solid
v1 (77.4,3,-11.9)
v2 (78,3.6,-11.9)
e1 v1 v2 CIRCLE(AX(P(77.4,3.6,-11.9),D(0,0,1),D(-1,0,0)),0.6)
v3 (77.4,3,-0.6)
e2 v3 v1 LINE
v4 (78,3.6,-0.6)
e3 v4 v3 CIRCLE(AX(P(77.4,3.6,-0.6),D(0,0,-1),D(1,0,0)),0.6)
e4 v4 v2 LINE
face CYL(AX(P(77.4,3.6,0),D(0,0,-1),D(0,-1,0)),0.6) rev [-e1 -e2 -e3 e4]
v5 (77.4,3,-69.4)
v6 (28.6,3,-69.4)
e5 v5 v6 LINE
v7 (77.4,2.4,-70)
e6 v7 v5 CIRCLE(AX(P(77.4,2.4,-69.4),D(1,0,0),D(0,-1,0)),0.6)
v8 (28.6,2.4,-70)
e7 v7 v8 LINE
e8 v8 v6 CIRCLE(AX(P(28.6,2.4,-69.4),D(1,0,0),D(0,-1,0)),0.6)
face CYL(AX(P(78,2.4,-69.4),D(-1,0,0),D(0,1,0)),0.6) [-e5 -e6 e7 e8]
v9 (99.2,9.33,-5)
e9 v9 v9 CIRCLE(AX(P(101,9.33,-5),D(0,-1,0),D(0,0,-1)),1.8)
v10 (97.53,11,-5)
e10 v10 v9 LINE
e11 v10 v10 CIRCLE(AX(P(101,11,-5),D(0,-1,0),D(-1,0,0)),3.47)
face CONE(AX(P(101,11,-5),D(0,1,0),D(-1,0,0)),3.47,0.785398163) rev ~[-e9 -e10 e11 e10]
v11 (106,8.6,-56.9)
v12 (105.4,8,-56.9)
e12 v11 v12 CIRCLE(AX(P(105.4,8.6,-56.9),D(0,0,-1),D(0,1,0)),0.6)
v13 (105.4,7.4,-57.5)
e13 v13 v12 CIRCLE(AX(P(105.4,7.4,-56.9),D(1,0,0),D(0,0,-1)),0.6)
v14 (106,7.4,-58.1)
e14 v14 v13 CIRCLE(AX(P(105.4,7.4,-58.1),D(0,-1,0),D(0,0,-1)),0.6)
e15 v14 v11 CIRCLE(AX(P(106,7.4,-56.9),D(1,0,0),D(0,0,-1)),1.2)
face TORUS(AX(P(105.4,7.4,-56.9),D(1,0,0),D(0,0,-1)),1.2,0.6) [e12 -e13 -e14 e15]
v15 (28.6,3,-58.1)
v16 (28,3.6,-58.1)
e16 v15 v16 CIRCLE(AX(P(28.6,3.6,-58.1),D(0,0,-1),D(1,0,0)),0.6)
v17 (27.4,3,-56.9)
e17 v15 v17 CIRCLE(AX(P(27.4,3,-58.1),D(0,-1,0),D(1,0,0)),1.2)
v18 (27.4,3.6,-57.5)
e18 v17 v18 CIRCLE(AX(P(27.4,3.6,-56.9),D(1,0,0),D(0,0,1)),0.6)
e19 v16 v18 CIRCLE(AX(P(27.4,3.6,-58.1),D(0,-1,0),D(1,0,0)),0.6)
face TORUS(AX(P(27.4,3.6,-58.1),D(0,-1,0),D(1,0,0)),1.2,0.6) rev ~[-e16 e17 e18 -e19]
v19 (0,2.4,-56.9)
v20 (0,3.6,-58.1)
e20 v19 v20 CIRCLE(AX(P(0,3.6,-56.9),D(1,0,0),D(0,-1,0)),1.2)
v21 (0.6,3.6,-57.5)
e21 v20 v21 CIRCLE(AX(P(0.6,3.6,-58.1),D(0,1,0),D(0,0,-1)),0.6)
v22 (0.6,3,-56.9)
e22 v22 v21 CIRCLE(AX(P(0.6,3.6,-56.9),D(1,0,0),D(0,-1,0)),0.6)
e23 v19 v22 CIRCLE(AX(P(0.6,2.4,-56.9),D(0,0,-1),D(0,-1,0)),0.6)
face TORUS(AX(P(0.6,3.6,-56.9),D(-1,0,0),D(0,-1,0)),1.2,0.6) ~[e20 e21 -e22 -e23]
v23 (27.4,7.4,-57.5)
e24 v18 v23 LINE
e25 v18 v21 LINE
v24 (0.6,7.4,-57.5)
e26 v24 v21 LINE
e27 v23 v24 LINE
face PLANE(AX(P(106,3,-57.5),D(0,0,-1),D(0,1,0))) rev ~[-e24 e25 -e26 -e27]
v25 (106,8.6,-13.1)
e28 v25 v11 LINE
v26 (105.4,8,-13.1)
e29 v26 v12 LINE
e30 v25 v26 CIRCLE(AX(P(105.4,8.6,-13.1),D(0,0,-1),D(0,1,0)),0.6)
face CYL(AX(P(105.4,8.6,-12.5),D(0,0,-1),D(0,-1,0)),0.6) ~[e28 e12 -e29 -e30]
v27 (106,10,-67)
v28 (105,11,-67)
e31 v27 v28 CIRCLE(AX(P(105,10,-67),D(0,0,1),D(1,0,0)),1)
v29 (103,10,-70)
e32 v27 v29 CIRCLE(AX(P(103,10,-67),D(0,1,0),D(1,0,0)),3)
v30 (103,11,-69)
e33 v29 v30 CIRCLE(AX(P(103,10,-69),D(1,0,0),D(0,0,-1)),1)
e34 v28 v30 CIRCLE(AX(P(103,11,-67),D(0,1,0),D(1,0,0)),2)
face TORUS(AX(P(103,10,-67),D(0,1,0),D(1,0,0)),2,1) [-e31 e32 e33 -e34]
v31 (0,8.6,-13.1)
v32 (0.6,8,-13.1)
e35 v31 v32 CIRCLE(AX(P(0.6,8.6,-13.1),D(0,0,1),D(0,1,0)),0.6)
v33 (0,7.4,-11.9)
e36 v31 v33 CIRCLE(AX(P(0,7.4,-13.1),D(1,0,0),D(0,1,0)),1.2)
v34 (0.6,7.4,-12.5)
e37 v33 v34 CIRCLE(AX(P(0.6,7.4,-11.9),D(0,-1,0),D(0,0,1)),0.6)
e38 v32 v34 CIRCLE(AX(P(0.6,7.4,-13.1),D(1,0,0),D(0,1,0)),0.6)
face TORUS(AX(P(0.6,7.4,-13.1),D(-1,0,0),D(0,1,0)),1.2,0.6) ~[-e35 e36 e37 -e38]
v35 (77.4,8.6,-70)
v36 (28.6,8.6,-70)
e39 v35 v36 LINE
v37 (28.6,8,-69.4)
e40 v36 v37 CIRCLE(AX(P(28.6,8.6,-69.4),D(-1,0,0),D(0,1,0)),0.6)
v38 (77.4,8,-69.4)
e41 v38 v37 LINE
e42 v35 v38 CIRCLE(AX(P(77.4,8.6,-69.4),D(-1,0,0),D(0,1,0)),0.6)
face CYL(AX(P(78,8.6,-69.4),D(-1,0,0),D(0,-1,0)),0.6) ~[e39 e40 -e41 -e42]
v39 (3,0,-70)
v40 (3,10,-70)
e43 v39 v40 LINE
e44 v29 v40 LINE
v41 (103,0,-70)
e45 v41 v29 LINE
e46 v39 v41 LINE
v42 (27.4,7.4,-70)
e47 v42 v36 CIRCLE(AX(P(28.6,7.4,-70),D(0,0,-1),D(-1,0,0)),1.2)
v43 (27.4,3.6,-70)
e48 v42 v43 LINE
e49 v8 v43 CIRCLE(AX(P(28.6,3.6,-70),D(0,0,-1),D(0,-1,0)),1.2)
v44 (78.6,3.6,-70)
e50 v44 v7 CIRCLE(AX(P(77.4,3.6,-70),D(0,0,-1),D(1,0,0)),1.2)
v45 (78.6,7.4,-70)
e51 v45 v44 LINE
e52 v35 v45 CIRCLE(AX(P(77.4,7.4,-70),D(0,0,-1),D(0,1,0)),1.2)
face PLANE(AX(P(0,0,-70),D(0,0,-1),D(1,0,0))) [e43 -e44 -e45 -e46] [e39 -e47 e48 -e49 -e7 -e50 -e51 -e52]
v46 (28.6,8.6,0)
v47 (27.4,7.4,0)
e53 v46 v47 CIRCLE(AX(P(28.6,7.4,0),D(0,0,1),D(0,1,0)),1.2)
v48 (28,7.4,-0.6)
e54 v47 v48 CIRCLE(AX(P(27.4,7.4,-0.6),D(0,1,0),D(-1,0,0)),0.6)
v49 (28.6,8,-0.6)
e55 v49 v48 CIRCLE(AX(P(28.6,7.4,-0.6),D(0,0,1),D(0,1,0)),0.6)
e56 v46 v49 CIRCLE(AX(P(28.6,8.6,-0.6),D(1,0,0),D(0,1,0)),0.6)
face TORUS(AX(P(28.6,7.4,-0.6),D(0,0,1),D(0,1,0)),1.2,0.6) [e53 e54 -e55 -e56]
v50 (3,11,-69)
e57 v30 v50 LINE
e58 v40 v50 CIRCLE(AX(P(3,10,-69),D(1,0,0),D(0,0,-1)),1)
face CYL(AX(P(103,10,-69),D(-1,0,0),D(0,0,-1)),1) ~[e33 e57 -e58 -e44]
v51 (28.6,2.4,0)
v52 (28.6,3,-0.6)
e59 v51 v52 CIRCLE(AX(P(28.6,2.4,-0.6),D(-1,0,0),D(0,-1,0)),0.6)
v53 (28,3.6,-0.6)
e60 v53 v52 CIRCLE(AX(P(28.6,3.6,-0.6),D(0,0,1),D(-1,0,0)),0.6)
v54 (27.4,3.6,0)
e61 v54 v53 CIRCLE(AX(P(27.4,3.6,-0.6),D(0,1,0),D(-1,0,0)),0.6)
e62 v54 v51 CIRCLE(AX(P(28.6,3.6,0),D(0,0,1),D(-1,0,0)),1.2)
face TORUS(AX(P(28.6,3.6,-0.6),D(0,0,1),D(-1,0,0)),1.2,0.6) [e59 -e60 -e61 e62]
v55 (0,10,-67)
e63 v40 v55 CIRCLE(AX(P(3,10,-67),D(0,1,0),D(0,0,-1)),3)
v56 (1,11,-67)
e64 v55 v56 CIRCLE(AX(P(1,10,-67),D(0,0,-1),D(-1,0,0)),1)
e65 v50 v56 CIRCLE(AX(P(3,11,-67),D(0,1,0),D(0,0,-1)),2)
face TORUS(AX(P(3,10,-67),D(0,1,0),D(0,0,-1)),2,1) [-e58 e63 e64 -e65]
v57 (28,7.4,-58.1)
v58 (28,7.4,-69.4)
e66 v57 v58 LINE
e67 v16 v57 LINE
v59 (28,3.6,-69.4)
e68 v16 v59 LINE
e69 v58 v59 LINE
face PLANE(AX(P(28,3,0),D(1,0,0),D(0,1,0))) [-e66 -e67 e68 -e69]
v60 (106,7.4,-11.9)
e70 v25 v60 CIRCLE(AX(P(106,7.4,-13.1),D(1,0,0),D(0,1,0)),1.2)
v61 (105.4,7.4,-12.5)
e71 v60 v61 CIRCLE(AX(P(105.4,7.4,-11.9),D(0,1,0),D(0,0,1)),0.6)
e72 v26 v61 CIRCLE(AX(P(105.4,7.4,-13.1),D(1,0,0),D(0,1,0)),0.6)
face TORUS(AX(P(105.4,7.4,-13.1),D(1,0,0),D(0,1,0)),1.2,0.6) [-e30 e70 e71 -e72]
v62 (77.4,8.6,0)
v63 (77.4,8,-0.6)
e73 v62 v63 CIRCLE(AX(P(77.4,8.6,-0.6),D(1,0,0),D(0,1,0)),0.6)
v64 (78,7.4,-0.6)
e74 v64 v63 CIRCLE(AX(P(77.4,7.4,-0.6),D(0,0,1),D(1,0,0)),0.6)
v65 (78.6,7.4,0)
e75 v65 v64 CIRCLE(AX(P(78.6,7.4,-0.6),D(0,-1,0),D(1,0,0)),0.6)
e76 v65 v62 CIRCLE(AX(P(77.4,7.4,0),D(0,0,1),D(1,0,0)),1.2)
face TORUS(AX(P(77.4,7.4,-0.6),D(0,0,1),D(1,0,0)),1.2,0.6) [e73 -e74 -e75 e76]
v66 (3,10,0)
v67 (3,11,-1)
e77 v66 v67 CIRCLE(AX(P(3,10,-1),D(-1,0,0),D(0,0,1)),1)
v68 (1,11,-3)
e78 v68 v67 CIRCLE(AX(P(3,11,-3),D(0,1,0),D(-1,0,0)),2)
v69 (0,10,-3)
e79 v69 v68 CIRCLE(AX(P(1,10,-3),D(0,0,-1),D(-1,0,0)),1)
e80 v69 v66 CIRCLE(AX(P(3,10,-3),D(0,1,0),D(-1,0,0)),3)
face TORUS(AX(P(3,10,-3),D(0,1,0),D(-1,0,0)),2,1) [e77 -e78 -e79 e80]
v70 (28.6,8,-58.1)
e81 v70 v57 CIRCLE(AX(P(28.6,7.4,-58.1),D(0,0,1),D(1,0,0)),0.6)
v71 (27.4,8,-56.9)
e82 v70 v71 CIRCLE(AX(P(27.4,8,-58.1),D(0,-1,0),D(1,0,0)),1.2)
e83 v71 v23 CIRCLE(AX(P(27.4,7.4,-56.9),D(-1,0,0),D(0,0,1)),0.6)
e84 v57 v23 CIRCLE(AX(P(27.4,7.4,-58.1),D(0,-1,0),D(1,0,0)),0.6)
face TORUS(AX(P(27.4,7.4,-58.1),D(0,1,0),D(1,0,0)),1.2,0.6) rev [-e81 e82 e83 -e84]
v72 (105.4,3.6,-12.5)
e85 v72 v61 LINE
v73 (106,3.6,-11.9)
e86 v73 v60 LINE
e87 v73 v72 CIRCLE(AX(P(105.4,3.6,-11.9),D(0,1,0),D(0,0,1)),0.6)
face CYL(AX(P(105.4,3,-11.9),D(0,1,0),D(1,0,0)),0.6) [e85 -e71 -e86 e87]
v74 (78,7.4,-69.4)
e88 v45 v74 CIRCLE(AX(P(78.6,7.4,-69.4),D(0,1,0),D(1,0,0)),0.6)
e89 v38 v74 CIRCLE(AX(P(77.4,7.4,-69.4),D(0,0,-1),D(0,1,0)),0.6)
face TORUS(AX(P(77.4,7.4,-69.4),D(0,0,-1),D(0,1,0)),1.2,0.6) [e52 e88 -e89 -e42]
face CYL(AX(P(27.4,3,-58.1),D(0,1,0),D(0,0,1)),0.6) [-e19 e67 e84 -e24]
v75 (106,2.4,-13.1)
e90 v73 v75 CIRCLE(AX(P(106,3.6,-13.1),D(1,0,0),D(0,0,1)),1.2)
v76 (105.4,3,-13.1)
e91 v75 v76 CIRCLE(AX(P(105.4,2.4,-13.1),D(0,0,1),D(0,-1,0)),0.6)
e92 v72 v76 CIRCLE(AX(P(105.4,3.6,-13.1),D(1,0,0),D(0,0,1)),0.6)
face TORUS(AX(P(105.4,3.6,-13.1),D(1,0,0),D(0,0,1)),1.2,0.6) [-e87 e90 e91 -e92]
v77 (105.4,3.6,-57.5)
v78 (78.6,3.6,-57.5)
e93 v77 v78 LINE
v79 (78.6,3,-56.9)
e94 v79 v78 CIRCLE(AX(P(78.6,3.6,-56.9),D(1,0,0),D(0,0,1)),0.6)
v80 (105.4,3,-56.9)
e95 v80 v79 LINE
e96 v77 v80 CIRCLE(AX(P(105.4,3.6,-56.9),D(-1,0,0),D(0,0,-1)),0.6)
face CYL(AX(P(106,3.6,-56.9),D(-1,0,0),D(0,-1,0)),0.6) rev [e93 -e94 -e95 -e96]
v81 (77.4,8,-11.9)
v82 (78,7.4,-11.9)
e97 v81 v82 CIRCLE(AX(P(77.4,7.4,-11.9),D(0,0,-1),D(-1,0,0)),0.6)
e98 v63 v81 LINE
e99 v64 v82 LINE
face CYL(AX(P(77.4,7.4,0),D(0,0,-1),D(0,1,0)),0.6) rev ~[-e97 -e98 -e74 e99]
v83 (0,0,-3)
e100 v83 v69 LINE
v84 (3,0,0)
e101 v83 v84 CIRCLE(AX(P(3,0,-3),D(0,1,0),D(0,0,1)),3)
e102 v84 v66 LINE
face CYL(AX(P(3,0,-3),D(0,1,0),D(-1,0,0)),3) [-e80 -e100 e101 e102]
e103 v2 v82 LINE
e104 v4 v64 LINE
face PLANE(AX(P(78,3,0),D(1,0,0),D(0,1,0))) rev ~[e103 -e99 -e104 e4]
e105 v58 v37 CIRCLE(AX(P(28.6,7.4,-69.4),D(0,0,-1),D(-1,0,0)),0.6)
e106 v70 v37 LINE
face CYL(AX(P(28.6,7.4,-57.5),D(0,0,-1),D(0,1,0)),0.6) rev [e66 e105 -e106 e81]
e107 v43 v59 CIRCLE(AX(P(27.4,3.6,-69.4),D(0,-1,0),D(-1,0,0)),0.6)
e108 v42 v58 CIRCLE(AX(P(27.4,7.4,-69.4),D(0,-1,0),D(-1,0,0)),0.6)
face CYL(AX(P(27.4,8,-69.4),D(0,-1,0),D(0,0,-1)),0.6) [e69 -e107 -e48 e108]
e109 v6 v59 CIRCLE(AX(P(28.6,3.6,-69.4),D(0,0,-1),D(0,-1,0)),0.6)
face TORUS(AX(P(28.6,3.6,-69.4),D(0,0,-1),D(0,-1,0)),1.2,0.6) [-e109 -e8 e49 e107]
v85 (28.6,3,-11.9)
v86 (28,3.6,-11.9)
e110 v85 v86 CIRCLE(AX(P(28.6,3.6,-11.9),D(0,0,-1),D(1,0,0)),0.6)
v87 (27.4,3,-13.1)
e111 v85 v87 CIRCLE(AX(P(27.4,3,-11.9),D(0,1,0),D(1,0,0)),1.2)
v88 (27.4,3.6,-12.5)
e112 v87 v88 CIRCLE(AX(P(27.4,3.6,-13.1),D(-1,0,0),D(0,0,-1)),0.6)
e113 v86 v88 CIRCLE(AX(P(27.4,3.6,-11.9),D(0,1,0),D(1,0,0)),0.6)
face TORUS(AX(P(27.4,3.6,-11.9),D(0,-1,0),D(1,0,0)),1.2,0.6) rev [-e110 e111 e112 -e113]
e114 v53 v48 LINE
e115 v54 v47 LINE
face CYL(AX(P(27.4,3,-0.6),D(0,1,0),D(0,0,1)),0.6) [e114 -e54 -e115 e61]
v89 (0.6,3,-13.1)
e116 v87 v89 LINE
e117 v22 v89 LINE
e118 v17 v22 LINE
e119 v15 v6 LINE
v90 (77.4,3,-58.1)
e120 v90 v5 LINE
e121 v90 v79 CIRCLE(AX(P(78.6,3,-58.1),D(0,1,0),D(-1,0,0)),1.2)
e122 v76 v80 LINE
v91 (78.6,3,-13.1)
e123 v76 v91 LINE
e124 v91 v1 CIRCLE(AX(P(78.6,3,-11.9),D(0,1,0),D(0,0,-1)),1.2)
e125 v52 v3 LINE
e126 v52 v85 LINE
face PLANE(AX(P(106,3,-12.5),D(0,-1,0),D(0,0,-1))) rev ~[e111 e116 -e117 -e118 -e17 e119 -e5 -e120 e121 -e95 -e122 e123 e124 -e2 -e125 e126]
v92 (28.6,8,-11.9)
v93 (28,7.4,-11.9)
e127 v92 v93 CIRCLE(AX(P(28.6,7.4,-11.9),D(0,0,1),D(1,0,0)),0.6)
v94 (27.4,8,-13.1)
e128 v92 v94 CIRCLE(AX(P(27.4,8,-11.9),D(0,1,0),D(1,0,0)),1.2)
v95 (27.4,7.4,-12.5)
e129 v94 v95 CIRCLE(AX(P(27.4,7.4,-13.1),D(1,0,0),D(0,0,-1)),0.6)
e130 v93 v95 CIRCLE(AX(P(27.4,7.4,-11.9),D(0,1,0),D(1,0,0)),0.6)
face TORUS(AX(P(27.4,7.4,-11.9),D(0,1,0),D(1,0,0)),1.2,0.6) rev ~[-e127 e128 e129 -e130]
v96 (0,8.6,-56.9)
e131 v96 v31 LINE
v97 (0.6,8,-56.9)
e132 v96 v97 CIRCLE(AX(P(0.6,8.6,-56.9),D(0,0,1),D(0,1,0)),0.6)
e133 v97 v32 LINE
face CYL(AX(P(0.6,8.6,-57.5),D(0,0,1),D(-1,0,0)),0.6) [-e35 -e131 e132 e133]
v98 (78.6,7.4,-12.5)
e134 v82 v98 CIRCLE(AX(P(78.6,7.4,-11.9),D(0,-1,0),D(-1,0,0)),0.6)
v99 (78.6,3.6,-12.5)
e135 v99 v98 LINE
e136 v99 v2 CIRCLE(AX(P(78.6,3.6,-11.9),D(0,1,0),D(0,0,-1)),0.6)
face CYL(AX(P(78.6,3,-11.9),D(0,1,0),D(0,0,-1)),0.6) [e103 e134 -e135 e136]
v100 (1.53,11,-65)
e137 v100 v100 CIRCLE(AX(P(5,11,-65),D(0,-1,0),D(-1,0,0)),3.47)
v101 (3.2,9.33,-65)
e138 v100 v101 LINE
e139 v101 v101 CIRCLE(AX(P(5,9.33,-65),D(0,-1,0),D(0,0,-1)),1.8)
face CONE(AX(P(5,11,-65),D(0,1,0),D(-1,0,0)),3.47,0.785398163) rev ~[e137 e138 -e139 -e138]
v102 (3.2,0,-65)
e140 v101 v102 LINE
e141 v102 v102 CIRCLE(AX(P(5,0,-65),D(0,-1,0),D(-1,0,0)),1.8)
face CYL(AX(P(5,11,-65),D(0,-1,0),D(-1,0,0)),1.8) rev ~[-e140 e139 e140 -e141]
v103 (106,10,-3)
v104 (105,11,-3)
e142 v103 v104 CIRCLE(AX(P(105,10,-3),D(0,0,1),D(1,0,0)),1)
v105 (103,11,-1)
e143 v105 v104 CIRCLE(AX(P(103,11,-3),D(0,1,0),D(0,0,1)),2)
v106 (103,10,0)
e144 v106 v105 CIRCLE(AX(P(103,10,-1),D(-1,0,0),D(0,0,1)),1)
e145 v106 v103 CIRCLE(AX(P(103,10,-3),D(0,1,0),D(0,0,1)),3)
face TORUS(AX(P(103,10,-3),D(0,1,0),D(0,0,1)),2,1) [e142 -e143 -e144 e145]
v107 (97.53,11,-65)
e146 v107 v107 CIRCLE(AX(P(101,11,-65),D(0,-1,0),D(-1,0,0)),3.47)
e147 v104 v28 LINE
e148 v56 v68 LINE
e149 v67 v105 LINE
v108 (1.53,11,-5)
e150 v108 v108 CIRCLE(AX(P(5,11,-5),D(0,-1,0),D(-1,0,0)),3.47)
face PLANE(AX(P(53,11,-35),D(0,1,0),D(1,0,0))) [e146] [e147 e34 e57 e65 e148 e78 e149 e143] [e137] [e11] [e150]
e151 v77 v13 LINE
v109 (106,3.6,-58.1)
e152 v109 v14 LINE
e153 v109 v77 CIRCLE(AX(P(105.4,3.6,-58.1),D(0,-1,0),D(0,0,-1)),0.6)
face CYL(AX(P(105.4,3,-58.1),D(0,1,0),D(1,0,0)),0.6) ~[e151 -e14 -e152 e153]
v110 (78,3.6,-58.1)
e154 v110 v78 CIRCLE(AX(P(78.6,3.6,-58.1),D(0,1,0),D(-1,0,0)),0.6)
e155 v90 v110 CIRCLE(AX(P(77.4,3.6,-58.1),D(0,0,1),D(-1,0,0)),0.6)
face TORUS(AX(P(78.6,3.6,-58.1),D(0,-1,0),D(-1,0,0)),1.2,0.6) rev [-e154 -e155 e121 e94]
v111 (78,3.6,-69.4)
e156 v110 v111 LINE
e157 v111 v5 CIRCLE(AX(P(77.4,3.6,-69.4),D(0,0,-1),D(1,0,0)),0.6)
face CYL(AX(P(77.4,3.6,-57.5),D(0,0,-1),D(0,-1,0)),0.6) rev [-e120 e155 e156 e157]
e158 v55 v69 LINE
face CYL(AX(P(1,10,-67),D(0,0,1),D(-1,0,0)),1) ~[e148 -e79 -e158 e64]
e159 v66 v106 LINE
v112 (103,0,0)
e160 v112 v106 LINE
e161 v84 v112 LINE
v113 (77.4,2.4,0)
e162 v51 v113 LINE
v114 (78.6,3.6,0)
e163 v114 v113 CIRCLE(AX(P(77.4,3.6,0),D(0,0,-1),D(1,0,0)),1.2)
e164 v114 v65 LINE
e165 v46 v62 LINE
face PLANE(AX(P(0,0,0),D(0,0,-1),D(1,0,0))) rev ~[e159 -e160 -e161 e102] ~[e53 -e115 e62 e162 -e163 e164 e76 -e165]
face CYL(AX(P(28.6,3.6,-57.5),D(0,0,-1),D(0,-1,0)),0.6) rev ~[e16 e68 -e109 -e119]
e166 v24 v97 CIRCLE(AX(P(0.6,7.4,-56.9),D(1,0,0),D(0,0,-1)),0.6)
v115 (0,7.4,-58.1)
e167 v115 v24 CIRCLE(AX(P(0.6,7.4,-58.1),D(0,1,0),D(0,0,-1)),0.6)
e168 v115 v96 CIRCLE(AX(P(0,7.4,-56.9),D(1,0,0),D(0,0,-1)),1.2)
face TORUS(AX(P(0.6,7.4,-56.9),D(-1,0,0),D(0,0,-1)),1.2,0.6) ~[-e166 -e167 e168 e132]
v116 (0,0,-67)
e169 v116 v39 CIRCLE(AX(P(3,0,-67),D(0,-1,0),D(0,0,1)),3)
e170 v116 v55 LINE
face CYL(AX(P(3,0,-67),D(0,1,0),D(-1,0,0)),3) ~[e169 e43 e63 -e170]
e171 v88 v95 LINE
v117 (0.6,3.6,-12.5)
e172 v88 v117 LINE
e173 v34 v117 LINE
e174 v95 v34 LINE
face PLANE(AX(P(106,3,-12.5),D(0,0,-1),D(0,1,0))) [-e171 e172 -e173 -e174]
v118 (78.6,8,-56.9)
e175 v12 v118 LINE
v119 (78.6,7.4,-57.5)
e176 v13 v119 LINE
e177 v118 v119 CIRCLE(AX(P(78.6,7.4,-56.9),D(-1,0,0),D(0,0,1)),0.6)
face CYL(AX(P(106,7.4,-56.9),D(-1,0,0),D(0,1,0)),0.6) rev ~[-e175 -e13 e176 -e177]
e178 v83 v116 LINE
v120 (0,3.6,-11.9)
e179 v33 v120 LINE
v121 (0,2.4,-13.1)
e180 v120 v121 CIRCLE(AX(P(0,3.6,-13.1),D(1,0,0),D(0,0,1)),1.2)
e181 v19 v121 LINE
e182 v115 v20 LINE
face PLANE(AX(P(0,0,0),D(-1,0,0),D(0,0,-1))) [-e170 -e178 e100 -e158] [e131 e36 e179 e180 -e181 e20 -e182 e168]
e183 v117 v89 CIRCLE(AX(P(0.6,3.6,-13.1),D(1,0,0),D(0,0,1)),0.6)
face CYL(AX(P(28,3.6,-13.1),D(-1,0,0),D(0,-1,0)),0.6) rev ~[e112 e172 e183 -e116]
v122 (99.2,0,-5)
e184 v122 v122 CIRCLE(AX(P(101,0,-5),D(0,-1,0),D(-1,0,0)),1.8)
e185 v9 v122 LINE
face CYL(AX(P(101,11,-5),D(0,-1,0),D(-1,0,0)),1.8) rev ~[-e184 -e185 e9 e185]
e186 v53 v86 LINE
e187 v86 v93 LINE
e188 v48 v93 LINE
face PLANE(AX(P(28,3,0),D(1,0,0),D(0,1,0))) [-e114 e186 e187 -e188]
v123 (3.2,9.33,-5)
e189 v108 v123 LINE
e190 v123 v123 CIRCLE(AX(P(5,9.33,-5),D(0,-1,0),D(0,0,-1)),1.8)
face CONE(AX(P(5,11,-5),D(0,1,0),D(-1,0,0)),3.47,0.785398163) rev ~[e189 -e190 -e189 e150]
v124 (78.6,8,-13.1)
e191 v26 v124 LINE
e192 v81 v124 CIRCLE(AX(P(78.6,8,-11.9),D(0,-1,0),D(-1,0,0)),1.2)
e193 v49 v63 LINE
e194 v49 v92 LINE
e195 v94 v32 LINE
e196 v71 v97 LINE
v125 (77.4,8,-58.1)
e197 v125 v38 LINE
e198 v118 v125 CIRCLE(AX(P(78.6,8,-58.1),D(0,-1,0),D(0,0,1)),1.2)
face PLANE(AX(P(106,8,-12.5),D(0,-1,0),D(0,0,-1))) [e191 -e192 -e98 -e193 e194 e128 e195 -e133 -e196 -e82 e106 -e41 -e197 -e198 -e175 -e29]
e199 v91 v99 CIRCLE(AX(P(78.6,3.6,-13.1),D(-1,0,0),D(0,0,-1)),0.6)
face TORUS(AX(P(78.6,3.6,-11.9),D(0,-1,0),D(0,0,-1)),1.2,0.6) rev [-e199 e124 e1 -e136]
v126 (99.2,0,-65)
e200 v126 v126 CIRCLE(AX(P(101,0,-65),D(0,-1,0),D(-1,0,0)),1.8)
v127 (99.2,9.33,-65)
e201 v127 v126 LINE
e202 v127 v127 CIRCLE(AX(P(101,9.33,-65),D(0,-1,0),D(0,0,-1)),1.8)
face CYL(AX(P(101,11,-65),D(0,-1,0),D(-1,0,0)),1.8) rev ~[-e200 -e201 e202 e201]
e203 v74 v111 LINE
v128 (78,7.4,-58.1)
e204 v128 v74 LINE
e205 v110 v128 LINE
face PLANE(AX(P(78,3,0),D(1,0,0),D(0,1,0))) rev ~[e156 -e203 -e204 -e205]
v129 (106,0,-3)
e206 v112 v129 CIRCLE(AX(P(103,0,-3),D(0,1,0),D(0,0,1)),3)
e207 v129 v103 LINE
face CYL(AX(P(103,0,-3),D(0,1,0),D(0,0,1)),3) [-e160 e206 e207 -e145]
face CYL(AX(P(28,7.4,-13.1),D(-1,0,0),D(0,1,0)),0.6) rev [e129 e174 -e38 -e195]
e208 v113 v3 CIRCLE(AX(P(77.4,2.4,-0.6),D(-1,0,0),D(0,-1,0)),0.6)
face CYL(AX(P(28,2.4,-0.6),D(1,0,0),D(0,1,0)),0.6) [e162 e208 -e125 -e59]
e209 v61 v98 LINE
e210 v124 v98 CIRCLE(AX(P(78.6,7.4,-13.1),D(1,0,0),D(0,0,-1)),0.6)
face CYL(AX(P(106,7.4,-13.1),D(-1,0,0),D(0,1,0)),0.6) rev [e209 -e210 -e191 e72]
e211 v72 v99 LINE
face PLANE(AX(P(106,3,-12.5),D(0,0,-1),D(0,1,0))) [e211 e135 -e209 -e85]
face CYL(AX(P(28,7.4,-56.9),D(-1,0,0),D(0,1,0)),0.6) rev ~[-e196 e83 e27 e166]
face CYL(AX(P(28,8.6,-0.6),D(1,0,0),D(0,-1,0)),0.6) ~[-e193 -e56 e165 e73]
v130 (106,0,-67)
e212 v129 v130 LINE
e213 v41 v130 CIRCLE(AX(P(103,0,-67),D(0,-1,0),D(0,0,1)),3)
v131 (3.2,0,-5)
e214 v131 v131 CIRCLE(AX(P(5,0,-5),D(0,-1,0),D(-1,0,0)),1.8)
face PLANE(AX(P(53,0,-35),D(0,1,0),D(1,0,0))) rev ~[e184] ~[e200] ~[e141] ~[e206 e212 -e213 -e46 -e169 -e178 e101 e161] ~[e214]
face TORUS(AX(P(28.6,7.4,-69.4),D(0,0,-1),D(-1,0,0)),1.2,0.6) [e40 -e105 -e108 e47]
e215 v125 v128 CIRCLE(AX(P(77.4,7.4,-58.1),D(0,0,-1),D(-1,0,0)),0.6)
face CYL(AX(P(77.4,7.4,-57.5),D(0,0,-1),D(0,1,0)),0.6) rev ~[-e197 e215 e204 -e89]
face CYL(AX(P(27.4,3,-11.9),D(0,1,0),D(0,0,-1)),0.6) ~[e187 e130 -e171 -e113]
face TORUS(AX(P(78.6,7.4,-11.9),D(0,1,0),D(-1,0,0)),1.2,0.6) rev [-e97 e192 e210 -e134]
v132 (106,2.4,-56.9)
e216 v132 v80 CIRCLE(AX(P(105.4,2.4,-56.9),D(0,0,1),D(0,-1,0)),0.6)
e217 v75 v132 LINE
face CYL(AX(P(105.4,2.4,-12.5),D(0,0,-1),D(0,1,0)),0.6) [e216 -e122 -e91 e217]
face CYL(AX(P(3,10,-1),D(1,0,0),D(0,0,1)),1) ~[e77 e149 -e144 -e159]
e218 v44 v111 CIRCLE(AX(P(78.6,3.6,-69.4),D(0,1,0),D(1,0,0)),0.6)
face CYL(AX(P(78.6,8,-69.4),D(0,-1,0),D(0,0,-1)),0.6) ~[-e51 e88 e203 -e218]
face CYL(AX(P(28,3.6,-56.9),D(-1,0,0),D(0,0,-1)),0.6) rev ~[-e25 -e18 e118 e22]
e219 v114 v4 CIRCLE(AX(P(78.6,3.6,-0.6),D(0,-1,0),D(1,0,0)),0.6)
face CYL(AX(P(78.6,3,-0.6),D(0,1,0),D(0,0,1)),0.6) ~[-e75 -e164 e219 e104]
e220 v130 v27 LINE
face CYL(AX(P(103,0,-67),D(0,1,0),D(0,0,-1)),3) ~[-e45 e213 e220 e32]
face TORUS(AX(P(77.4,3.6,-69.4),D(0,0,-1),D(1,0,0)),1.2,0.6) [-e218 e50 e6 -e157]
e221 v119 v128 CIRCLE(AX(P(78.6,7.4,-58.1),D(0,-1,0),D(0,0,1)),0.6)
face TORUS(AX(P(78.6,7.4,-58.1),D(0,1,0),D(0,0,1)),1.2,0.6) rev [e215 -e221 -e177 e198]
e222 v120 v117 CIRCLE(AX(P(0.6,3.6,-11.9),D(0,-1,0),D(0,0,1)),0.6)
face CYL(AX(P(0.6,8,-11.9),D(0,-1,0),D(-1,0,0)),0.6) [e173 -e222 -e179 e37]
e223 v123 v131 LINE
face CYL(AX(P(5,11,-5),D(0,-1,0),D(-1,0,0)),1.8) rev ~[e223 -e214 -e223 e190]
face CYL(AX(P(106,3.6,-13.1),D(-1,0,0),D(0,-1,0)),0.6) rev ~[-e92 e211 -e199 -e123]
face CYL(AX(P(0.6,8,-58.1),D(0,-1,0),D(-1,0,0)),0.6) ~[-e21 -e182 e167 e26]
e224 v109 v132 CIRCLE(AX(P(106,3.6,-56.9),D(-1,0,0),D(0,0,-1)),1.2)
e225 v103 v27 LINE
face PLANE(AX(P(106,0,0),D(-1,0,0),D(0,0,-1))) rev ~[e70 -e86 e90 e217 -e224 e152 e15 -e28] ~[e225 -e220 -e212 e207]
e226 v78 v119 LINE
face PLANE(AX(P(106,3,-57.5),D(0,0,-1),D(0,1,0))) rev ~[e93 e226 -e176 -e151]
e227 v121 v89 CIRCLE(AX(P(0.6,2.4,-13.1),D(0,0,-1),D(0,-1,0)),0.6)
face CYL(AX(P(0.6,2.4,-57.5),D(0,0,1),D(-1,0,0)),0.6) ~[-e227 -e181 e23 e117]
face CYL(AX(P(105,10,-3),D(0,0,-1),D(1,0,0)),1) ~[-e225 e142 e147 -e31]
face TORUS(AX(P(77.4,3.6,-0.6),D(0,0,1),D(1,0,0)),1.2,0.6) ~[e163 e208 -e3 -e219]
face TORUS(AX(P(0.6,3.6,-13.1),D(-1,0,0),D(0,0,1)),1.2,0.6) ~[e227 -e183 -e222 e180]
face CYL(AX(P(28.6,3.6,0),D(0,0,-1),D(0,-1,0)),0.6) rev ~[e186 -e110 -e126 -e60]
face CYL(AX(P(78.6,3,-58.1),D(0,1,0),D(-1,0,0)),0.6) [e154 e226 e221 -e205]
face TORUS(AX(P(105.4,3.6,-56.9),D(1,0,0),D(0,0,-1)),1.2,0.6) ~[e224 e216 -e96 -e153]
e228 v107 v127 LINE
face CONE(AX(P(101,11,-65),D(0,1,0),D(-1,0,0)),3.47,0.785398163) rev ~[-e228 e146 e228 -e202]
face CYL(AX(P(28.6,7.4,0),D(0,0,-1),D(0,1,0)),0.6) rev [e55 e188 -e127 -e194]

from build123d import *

# Parameters (mm, degrees)
CROQUIS1_W                                           = 106
CROQUIS1_H                                           = 70
SALIENTE_EXTRUIR1_DEPTH                              = 11
CROQUIS2_W                                           = 50
CROQUIS2_H                                           = 5
CORTAR_EXTRUIR1_DEPTH                                = 128.502941143
CROQUIS3_W                                           = 45
CROQUIS3_H                                           = 5
CORTAR_EXTRUIR2_DEPTH                                = 128.502941143
REDONDEO1_R                                          = 3
AVELLANADO_PARA_TORNILLO_CON_CABEZA_AVEL_D           = 3.6
AVELLANADO_PARA_TORNILLO_CON_CABEZA_AVEL_CSINK_D     = 6.94
AVELLANADO_PARA_TORNILLO_CON_CABEZA_AVEL_CSINK_ANGLE = 90
REDONDEO2_R                                          = 1
REDONDEO3_R                                          = 0.6


with BuildPart() as part:
    # Croquis1 → Saliente-Extruir1 (new body)
    with BuildSketch(Plane(origin=(0, 0, 0), x_dir=(1, 0, 0), z_dir=(0, 1, 0))):
        with Locations((53, 35)):
            Rectangle(CROQUIS1_W, CROQUIS1_H)
    extrude(amount=SALIENTE_EXTRUIR1_DEPTH)

    # Croquis2 → Cortar-Extruir1 (cut, through all)
    with BuildSketch(Plane.XY):
        with Locations((53, 5.5)):
            Rectangle(CROQUIS2_W, CROQUIS2_H)
    extrude(amount=-CORTAR_EXTRUIR1_DEPTH, mode=Mode.SUBTRACT)

    # Croquis3 → Cortar-Extruir2 (cut, through all)
    with BuildSketch(Plane(origin=(106, 0, 0), x_dir=(0, 0, -1), z_dir=(1, 0, 0))):
        with Locations((35, 5.5)):
            Rectangle(CROQUIS3_W, CROQUIS3_H)
    extrude(amount=-CORTAR_EXTRUIR2_DEPTH, mode=Mode.SUBTRACT)

    # Redondeo1
    redondeo1_edges = [part.edges().sort_by_distance(p)[0] for p in [
        (0, 5.5, -70),
        (106, 5.5, -70),
        (106, 5.5, 0),
        (0, 5.5, 0),
    ]]
    fillet(redondeo1_edges, radius=REDONDEO1_R)

    # Avellanado para tornillo con cabeza avellanada de clavija hexagonal de M32 (through all)
    with Locations(Plane(origin=(0, 11, 0), x_dir=(1, 0, 0), z_dir=(0, 1, 0))):
        with Locations((5, 65), (101, 65), (101, 5), (5, 5)):
            CounterSinkHole(AVELLANADO_PARA_TORNILLO_CON_CABEZA_AVEL_D / 2, AVELLANADO_PARA_TORNILLO_CON_CABEZA_AVEL_CSINK_D / 2, counter_sink_angle=AVELLANADO_PARA_TORNILLO_CON_CABEZA_AVEL_CSINK_ANGLE)

    # Redondeo2
    redondeo2_edges = [part.edges().sort_by_distance(p)[0] for p in [
        (53, 11, 0),
        (0, 11, -35),
        (106, 11, -35),
        (53, 11, -70),
        (105.121320344, 11, -0.878679656),
        (105.121320344, 11, -69.121320344),
        (0.878679656, 11, -69.121320344),
        (0.878679656, 11, -0.878679656),
    ]]
    fillet(redondeo2_edges, radius=REDONDEO2_R)

    # Redondeo3
    redondeo3_edges = [part.edges().sort_by_distance(p)[0] for p in [
        (78, 5.5, -70),
        (78, 8, -63.75),
        (53, 3, -70),
        (78, 3, -63.75),
        (28, 5.5, -70),
        (28, 3, -63.75),
        (53, 8, -70),
        (28, 8, -63.75),
        (78, 5.5, 0),
        (53, 8, 0),
        (28, 5.5, 0),
        (53, 3, 0),
        (28, 8, -6.25),
        (78, 8, -6.25),
        (28, 3, -6.25),
        (78, 3, -6.25),
        (92, 3, -57.5),
        (14, 3, -57.5),
        (0, 3, -35),
        (92, 8, -12.5),
        (14, 8, -12.5),
        (0, 8, -35),
        (78, 5.5, -57.5),
        (92, 8, -57.5),
        (14, 8, -57.5),
        (28, 5.5, -57.5),
        (0, 5.5, -57.5),
        (78, 5.5, -12.5),
        (92, 3, -12.5),
        (14, 3, -12.5),
        (28, 5.5, -12.5),
        (0, 5.5, -12.5),
        (106, 5.5, -57.5),
        (106, 8, -35),
        (106, 5.5, -12.5),
        (106, 3, -35),
    ]]
    fillet(redondeo3_edges, radius=REDONDEO3_R)


solid = part.part
